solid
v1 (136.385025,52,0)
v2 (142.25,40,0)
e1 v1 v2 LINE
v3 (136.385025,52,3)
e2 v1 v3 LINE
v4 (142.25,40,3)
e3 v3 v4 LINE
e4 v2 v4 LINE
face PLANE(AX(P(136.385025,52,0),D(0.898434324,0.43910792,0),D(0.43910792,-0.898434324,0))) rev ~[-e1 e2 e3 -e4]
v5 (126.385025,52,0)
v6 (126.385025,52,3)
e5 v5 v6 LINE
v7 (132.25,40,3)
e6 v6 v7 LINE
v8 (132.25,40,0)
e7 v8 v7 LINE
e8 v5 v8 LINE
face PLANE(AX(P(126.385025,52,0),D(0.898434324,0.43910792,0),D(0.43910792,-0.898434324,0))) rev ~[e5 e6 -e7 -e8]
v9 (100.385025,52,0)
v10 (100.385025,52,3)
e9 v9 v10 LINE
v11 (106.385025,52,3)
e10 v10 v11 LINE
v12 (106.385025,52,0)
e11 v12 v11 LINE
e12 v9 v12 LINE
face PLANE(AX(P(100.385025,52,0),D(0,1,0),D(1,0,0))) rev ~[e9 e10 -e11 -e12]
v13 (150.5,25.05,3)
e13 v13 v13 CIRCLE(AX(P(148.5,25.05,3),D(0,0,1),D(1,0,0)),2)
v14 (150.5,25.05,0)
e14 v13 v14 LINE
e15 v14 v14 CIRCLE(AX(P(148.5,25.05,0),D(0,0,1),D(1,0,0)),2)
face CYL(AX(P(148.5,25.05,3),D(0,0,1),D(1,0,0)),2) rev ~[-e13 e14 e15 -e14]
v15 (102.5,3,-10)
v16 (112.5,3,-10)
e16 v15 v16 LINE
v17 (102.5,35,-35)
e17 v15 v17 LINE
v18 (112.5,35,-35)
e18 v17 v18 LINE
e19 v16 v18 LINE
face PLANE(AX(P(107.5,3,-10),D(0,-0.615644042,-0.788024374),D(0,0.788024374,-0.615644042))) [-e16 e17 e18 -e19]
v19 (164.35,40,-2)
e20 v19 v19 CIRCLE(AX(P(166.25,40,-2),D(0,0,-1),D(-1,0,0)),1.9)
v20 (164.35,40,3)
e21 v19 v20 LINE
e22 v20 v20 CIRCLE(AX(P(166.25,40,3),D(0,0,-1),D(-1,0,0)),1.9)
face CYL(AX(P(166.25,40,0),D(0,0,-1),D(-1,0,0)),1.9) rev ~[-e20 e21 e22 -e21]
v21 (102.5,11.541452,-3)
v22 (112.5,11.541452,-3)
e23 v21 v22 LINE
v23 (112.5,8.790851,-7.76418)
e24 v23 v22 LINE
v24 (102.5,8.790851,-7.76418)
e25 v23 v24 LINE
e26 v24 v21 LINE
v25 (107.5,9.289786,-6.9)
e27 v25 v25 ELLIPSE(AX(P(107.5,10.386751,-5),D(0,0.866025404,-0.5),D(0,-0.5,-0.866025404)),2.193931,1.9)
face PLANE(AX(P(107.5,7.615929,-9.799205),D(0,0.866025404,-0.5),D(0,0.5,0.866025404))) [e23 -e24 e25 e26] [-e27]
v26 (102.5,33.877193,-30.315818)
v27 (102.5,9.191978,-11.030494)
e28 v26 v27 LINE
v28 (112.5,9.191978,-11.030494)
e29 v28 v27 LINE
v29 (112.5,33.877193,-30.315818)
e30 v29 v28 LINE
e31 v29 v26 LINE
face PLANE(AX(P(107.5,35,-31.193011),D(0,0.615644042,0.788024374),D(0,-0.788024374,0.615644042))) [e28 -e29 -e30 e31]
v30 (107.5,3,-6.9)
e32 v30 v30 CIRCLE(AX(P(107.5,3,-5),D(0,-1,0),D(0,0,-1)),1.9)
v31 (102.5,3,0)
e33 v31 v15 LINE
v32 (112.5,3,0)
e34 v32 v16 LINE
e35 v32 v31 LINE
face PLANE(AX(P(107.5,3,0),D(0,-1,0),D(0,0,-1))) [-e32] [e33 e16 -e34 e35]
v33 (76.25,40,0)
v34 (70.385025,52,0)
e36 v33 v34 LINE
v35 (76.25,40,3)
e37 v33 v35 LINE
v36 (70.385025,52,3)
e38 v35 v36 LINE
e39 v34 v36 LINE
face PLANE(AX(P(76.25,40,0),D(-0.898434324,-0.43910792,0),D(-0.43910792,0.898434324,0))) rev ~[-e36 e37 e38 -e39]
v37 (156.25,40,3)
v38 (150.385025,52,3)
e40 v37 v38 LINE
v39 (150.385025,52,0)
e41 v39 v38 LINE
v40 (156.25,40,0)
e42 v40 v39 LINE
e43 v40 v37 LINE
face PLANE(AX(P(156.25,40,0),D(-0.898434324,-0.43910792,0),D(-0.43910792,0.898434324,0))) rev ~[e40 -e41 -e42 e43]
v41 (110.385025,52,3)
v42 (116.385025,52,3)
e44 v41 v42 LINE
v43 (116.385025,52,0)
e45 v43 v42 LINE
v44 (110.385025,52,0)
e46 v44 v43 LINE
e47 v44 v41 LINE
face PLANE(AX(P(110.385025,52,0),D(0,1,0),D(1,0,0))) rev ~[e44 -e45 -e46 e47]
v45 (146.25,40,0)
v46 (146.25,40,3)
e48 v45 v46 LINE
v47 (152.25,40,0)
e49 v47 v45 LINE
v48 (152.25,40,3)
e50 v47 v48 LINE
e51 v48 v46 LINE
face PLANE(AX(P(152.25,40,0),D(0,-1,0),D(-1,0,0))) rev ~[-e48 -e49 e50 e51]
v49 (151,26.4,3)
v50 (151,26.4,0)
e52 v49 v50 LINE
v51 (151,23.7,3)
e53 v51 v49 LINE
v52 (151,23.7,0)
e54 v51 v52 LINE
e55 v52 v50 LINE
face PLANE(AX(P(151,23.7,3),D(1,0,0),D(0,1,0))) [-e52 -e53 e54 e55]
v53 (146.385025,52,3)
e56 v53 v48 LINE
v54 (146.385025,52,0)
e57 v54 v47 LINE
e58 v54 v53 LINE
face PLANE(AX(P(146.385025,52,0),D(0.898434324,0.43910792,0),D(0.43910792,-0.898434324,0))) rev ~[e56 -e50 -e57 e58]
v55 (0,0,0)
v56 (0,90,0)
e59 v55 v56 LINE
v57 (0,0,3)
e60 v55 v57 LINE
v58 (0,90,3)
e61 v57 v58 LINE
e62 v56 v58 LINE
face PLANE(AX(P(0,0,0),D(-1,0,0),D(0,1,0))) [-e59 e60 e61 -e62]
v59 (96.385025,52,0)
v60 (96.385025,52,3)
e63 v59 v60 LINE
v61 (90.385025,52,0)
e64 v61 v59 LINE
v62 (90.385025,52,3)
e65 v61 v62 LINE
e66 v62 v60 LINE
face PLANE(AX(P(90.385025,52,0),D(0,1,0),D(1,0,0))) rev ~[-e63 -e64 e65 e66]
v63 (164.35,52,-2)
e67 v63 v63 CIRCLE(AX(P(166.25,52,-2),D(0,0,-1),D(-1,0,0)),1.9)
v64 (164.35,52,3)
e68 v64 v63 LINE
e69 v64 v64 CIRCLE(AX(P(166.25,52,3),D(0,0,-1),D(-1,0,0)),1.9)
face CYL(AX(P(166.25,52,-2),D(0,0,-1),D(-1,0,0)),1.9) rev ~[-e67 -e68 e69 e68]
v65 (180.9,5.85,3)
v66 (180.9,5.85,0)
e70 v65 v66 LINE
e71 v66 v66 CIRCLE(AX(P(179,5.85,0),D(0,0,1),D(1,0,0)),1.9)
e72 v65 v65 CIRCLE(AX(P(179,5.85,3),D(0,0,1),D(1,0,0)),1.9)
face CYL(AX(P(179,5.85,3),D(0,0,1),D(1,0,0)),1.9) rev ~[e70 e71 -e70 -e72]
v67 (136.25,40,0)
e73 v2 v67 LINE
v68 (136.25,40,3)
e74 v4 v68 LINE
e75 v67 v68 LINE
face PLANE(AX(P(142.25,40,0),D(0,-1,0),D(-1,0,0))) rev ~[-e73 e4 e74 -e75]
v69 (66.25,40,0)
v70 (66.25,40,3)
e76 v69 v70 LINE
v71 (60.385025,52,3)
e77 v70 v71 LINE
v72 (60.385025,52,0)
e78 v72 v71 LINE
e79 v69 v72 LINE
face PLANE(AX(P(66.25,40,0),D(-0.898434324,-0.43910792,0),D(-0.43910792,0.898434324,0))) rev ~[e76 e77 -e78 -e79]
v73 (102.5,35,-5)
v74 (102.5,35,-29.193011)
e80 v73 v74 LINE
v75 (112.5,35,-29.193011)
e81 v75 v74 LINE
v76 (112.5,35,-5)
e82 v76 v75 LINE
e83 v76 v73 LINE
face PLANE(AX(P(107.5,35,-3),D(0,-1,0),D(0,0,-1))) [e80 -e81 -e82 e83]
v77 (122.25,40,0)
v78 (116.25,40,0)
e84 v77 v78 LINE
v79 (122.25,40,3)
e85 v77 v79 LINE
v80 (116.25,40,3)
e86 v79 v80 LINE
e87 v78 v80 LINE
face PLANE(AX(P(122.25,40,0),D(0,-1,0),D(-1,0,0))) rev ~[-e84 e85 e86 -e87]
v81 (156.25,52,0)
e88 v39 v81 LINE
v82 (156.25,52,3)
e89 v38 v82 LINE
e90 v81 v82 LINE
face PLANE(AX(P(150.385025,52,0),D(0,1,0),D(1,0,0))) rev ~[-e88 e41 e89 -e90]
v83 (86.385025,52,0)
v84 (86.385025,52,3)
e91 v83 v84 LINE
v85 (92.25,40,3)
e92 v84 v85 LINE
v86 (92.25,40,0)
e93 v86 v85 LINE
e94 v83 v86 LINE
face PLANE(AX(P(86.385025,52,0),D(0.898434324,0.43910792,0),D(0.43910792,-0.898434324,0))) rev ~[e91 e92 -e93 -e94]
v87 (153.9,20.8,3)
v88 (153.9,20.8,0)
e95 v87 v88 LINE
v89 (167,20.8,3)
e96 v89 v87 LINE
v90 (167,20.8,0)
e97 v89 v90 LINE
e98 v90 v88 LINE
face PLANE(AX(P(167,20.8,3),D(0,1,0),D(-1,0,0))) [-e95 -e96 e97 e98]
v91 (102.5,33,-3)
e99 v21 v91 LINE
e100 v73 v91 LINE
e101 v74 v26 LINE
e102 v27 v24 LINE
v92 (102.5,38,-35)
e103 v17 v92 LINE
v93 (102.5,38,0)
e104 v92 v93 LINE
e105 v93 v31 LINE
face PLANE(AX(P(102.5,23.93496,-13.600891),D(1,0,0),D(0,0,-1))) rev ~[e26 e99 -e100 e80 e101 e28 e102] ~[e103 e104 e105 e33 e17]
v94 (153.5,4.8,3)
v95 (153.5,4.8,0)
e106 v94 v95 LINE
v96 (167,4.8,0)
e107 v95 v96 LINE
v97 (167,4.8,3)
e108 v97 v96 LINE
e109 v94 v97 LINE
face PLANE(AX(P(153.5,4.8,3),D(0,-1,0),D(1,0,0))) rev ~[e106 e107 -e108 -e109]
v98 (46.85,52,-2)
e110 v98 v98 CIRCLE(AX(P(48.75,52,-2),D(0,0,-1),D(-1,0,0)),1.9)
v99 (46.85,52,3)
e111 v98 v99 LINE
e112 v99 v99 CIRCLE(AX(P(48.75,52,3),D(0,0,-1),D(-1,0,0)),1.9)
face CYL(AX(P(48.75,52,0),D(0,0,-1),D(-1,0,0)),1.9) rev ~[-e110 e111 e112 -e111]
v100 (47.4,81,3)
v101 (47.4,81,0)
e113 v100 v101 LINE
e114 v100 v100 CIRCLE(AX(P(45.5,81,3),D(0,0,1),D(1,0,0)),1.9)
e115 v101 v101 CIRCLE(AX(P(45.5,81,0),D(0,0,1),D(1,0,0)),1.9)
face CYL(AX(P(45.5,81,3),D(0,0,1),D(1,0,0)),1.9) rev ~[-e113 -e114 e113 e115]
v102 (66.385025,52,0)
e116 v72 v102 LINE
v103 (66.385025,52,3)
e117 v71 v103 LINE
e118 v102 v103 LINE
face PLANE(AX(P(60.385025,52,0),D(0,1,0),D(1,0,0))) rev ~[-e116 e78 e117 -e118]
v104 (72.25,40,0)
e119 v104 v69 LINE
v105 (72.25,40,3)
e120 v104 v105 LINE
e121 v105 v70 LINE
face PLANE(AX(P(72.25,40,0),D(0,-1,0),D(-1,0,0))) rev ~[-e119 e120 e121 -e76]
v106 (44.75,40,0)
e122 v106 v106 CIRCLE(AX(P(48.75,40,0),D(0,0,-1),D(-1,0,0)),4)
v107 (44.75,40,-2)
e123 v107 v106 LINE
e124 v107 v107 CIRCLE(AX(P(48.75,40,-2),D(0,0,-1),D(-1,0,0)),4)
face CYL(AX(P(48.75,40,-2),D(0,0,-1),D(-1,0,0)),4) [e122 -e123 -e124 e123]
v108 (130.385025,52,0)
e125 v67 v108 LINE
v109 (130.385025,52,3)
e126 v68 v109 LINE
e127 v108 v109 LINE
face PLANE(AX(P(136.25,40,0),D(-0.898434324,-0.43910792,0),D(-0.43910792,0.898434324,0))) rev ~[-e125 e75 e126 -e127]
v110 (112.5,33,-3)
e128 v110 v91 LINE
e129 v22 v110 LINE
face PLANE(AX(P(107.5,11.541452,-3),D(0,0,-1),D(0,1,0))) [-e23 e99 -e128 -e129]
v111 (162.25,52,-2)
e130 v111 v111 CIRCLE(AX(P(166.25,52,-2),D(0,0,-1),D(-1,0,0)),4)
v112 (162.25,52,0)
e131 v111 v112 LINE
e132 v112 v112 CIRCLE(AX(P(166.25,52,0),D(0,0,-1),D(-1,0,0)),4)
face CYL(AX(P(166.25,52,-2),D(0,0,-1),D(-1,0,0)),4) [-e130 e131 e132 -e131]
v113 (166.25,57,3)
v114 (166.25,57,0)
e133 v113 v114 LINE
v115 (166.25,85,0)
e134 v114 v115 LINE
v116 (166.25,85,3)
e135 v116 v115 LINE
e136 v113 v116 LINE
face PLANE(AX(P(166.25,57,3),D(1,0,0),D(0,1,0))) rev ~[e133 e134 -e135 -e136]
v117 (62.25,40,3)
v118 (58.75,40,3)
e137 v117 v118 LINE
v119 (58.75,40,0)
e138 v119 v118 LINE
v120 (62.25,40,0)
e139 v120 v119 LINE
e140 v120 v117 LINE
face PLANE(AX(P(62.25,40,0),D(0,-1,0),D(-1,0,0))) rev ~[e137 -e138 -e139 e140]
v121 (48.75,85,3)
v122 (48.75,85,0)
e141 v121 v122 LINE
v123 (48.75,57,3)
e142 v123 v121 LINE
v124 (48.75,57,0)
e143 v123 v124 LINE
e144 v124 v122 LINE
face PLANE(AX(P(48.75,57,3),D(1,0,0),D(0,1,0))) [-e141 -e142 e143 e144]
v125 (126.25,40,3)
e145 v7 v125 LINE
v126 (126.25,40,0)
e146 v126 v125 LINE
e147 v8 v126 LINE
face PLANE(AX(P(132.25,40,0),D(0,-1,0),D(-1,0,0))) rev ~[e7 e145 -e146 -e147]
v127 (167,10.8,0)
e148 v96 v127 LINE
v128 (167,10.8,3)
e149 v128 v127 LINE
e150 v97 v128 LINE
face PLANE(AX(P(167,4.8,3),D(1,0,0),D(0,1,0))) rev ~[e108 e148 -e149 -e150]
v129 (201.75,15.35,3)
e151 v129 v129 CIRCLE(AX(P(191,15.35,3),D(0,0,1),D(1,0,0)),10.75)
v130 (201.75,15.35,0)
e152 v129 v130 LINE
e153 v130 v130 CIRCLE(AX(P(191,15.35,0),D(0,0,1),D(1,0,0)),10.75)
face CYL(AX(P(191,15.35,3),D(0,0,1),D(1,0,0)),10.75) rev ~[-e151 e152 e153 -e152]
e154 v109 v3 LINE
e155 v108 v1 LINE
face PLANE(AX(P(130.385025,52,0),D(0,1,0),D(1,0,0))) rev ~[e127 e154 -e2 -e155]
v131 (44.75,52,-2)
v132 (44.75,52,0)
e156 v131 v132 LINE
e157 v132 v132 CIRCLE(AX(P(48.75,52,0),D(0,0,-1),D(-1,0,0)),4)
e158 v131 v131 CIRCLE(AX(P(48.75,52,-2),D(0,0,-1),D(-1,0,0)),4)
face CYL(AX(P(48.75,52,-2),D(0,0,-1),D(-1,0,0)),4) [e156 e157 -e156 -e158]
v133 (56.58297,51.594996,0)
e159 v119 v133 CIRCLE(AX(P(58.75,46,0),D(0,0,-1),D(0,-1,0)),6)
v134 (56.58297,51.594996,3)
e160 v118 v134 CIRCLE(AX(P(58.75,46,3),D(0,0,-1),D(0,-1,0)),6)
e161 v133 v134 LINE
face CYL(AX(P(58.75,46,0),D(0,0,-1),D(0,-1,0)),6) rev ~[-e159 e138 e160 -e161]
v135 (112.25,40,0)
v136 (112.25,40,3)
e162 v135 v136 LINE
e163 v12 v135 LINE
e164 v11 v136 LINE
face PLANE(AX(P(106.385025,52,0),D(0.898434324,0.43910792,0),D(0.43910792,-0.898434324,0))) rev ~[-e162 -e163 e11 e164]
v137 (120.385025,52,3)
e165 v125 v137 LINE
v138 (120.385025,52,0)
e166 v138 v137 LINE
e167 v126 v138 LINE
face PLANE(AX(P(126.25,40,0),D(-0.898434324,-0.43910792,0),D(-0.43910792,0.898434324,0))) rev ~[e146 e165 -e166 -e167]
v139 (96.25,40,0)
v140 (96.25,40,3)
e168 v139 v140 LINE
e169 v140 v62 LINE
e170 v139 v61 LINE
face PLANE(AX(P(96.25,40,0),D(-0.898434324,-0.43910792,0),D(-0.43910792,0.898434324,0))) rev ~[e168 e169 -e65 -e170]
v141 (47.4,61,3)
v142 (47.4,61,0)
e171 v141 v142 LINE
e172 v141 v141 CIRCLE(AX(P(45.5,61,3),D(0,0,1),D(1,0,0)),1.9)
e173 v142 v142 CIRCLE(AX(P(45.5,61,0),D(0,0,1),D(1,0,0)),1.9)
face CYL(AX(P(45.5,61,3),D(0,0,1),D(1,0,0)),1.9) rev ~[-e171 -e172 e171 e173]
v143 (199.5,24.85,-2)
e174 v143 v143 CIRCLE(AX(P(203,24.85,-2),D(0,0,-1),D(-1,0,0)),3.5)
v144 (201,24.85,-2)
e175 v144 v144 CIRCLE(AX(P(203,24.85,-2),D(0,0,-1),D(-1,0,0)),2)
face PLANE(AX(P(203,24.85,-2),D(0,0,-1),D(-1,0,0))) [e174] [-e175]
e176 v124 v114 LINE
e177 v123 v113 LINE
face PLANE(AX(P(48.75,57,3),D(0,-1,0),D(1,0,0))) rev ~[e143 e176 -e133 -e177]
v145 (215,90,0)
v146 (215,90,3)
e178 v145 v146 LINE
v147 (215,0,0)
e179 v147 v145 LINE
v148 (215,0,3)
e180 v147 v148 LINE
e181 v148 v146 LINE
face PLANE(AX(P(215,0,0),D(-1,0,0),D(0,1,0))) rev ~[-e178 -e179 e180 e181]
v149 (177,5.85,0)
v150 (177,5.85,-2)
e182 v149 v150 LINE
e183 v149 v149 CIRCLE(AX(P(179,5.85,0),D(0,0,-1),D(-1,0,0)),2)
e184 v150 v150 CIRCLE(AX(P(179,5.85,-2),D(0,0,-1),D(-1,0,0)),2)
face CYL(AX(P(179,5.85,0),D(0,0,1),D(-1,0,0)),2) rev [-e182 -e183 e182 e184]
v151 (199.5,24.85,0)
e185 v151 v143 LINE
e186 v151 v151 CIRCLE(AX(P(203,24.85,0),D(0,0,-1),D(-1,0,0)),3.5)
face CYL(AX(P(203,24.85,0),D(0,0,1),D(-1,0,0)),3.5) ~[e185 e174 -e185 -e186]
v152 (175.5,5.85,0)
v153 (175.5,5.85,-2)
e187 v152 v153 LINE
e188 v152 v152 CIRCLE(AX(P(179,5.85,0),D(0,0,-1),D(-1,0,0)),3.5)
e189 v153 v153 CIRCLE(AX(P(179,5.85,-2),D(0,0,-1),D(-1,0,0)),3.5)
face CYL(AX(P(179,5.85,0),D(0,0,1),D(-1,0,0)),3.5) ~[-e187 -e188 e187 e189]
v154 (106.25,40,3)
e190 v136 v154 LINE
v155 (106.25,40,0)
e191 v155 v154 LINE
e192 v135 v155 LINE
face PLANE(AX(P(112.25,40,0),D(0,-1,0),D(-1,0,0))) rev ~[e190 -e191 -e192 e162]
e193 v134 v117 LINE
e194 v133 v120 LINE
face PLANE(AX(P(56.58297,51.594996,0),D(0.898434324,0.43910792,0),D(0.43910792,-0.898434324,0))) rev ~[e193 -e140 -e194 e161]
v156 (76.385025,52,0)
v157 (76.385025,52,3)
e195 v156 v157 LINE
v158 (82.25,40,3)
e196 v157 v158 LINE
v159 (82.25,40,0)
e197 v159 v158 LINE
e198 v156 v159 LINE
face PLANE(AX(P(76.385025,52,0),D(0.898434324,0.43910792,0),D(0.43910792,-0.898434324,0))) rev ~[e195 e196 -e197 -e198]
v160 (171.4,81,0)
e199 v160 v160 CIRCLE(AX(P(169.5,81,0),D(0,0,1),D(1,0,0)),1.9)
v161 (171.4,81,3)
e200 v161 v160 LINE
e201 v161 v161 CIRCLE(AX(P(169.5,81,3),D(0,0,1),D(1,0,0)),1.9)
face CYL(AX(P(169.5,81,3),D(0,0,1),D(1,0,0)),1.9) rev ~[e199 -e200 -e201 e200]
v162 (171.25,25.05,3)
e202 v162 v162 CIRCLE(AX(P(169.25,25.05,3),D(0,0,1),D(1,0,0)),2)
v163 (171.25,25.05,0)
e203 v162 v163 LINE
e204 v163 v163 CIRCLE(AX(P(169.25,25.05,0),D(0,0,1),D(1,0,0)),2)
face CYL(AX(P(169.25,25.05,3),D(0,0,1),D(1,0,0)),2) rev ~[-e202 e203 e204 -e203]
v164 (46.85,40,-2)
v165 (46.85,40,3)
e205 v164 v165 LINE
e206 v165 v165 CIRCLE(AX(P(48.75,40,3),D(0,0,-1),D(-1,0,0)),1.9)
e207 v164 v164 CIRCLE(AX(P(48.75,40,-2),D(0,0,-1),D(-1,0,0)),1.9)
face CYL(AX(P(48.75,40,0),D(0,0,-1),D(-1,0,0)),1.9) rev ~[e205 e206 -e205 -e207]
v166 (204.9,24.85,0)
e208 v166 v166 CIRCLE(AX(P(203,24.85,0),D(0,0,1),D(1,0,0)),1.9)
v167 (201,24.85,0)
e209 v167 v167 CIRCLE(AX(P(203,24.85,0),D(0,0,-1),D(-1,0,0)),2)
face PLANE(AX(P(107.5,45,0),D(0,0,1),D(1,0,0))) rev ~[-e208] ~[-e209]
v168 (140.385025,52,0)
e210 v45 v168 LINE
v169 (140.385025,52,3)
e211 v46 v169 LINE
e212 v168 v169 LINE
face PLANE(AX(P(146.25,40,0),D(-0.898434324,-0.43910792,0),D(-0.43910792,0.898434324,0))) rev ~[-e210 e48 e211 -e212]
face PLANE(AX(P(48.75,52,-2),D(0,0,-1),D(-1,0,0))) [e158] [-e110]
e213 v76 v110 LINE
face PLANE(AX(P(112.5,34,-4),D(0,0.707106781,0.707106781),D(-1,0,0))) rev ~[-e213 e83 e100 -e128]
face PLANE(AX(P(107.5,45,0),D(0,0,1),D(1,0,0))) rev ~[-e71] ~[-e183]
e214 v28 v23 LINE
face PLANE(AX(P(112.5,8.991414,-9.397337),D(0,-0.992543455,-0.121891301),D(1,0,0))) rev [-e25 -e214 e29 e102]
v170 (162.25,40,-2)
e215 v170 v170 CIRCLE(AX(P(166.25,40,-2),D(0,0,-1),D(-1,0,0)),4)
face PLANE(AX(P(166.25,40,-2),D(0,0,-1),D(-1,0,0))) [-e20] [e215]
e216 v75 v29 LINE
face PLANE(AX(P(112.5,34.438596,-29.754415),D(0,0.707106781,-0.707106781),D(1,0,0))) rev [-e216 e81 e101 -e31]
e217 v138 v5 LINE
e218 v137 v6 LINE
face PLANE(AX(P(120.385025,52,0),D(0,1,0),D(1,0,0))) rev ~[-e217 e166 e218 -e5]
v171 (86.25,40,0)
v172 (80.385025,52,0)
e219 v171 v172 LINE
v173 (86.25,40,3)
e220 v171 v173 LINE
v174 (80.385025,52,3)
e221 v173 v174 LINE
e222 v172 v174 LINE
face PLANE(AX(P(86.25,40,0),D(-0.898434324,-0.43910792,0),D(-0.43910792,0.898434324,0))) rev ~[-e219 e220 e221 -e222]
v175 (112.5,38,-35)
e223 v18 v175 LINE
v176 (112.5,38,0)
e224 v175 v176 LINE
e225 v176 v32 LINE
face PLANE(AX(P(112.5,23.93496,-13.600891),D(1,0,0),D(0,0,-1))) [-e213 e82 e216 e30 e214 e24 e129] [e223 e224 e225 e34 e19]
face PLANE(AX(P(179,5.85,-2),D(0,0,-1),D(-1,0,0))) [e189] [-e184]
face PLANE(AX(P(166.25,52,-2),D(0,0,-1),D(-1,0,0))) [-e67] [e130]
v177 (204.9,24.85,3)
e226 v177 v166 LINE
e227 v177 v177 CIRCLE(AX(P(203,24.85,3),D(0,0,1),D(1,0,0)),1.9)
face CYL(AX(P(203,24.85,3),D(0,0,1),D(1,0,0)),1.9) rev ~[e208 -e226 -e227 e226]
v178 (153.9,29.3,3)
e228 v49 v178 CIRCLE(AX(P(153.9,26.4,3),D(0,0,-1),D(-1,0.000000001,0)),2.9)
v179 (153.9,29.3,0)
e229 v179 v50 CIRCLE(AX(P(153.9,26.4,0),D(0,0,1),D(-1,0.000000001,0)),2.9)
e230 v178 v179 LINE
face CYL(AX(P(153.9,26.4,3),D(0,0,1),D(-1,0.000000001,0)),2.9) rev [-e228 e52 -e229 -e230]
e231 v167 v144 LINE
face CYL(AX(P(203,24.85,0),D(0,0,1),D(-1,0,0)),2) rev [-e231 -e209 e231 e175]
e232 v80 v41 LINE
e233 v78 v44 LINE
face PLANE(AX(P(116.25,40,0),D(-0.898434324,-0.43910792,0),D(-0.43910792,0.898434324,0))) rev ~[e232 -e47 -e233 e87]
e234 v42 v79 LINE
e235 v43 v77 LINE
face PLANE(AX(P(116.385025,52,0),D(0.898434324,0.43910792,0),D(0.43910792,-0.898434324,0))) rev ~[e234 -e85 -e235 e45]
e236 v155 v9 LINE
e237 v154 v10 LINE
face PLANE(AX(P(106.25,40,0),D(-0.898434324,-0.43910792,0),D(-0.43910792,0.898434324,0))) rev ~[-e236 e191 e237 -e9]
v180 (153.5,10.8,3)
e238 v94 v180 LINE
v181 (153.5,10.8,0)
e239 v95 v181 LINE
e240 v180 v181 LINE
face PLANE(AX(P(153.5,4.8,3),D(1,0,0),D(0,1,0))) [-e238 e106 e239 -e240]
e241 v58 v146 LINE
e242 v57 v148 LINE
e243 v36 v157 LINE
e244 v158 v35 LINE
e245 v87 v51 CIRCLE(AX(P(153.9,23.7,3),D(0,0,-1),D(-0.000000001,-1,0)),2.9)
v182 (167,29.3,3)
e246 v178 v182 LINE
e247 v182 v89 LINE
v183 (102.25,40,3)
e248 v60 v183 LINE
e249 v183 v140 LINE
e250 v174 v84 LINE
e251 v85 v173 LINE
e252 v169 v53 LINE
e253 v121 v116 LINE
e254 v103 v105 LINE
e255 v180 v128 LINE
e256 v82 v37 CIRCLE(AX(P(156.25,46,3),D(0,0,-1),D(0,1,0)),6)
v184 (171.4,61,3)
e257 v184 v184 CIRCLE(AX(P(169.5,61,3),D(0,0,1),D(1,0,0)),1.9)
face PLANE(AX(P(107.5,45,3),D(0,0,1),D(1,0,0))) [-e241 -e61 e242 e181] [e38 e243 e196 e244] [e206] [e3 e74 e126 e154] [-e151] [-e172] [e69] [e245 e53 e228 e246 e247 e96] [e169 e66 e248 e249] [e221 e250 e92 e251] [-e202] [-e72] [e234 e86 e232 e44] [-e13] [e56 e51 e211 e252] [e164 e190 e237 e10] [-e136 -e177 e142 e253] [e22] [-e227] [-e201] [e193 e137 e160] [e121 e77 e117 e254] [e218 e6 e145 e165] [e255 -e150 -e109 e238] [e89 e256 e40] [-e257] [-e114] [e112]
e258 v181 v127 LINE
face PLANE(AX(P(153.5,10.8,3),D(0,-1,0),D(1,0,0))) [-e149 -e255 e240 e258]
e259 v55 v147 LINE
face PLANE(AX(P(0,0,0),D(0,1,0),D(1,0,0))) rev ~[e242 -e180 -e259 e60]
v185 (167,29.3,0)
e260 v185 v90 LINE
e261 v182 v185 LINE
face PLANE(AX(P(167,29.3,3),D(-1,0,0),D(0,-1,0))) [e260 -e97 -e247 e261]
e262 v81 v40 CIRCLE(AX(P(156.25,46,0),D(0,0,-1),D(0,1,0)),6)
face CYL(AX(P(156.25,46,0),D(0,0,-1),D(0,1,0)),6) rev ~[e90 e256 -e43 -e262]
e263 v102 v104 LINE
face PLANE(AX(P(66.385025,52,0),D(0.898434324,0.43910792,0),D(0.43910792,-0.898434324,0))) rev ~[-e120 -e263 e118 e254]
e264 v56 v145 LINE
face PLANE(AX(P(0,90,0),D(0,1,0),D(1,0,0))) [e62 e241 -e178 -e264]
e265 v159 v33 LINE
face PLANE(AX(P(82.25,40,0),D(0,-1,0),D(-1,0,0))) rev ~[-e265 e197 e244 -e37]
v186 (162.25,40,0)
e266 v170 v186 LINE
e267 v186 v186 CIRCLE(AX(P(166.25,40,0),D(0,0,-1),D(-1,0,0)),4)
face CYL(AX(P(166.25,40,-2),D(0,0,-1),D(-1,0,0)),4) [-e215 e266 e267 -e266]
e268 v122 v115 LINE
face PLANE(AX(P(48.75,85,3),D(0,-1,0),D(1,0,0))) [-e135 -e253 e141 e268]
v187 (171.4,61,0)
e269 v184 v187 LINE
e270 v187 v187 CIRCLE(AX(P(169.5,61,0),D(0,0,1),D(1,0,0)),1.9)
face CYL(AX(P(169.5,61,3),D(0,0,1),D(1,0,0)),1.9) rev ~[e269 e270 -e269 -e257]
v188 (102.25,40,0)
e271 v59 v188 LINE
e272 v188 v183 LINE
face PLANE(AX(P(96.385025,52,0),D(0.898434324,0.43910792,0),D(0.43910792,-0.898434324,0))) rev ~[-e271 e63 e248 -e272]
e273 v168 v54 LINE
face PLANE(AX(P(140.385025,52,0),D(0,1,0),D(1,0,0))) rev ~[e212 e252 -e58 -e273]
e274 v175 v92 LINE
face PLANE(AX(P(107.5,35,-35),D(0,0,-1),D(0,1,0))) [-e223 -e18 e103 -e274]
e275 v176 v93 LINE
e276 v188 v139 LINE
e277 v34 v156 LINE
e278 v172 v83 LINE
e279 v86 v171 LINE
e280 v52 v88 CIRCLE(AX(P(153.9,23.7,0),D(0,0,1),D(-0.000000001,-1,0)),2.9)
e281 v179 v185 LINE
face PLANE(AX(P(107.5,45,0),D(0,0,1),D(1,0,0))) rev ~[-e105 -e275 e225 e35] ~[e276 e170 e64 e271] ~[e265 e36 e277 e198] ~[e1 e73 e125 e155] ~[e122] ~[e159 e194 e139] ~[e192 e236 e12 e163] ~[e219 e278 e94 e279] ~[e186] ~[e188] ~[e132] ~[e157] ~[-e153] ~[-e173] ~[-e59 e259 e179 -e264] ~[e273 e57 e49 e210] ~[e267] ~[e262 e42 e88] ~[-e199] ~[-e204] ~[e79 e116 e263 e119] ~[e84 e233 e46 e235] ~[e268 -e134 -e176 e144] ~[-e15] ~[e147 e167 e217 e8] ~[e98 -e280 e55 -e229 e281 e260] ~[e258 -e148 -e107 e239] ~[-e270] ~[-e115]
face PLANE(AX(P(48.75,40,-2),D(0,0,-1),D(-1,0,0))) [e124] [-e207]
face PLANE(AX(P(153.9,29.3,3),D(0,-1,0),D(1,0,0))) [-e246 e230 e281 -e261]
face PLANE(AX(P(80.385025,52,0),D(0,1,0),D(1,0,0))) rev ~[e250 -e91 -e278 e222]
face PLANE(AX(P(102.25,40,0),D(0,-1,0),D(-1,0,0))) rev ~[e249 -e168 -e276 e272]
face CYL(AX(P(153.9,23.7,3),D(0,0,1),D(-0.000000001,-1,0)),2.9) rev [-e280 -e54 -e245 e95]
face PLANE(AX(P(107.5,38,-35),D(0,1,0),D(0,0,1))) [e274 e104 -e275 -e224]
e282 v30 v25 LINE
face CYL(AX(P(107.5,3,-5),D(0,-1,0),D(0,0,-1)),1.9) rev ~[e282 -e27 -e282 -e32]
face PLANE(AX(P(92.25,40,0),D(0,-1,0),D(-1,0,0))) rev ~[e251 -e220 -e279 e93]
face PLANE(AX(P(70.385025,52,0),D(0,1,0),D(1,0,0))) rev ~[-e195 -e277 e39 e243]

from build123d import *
from OCP.BRepFilletAPI import BRepFilletAPI_MakeChamfer

# Parameters (mm, degrees)
SZKIC1_W                    = 215
SZKIC1_H                    = 90
DODANIE_WYCI_GNI_CIE1_DEPTH = 3
DODANIE_WYCI_GNI_CIE3_DEPTH = 5
SZKIC4_R                    = 1.9
WYTNIJ_WYCI_GNI_CIE1_DEPTH  = 10
SZKIC5_R                    = 1.9
SZKIC5_W                    = 117.5
SZKIC5_H                    = 28
WYTNIJ_WYCI_GNI_CIE2_DEPTH  = 35
SFAZOWANIE1_SIZE            = 2
SFAZOWANIE1_SIZE2           = 1.42483793
SFAZOWANIE1_SIZE2_2         = 2.349845037
SZKIC6_R                    = 10.75
SZKIC6_R_2                  = 1.9
SZKIC6_R_3                  = 2
SZKIC6_W                    = 13.5
SZKIC6_H                    = 6
WYTNIJ_WYCI_GNI_CIE3_DEPTH  = 237.154610372
SZKIC8_R                    = 3.5
SZKIC8_R_2                  = 2
DODANIE_WYCI_GNI_CIE4_DEPTH = 2
SZKIC9_R                    = 1.9
WYTNIJ_WYCI_GNI_CIE4_DEPTH  = 3
DODANIE_WYCI_GNI_CIE5_START = 2
SZKIC10_R                   = 4
SZKIC10_R_2                 = 1.9
DODANIE_WYCI_GNI_CIE5_DEPTH = 2


with BuildPart() as part:
    # Szkic1 → Dodanie-wyciągnięcie1 (new body)
    with BuildSketch(Plane.XY):
        with Locations((107.5, 45)):
            Rectangle(SZKIC1_W, SZKIC1_H)
    extrude(amount=DODANIE_WYCI_GNI_CIE1_DEPTH)

    # Szkic3 → Dodanie-wyciągnięcie3 (add, symmetric)
    with BuildSketch(Plane(origin=(107.5, 0, 0), x_dir=(0, 0, -1), z_dir=(1, 0, 0))):
        Polygon((0, 3), (10, 3), (35, 35), (35, 38), (0, 38), align=None)
        Polygon((3, 11.541451884), (3, 35), (31.193011155, 35), (9.799205499, 7.615928759), align=None, mode=Mode.SUBTRACT)
    extrude(amount=DODANIE_WYCI_GNI_CIE3_DEPTH, both=True)

    # Szkic4 → Wytnij-wyciągnięcie1 (cut)
    with BuildSketch(Plane.XZ.offset(-3)):
        with Locations(Location((107.5, -5, 0), (0, 0, 270))):
            Circle(SZKIC4_R)
    extrude(amount=-WYTNIJ_WYCI_GNI_CIE1_DEPTH, mode=Mode.SUBTRACT)

    # Szkic5 → Wytnij-wyciągnięcie2 (cut)
    with BuildSketch(Plane.XY.offset(3)):
        with Locations((45.5, 81)):
            Circle(SZKIC5_R)
        with Locations((45.5, 61)):
            Circle(SZKIC5_R)
        with Locations((169.5, 61)):
            Circle(SZKIC5_R)
        with Locations((169.5, 81)):
            Circle(SZKIC5_R)
        with Locations((107.5, 71)):
            Rectangle(SZKIC5_W, SZKIC5_H)
    extrude(amount=-WYTNIJ_WYCI_GNI_CIE2_DEPTH, mode=Mode.SUBTRACT)

    # Sfazowanie1: one chamfer whose edges measure the first distance from different faces: ONE call of the kernel's chamfer builder (chamfer() names one face for all edges)
    sfazowanie1_edges_1 = [part.edges().sort_by_distance(p)[0] for p in [
        (107.5, 35, -31.193011155),
    ]]
    sfazowanie1_side_1 = [part.faces().sort_by_distance(p)[0] for p in [
        (107.5, 35, -17.096505578),
    ]]
    sfazowanie1_edges_2 = [part.edges().sort_by_distance(p)[0] for p in [
        (107.5, 35, -3),
    ]]
    sfazowanie1_edges_3 = [part.edges().sort_by_distance(p)[0] for p in [
        (107.5, 7.615928759, -9.799205499),
    ]]
    sfazowanie1_side_3 = [part.faces().sort_by_distance(p)[0] for p in [
        (107.5, 21.30796438, -20.496108327),
    ]]
    sfazowanie1 = BRepFilletAPI_MakeChamfer(part.part.solid().wrapped)
    for e in sfazowanie1_edges_1:
        sfazowanie1.Add(SFAZOWANIE1_SIZE, SFAZOWANIE1_SIZE2, e.wrapped, sfazowanie1_side_1[0].wrapped)  # the first distance lies on this face
    for e in sfazowanie1_edges_2:
        sfazowanie1.Add(SFAZOWANIE1_SIZE, e.wrapped)
    for e in sfazowanie1_edges_3:
        sfazowanie1.Add(SFAZOWANIE1_SIZE, SFAZOWANIE1_SIZE2_2, e.wrapped, sfazowanie1_side_3[0].wrapped)  # the first distance lies on this face
    add(Compound.cast(sfazowanie1.Shape()), mode=Mode.REPLACE)

    # Szkic6 → Wytnij-wyciągnięcie3 (cut, through all)
    with BuildSketch(Plane.XY.offset(3)):
        with Locations((191, 15.35)):
            Circle(SZKIC6_R)
        with Locations((203, 24.85)):
            Circle(SZKIC6_R_2)
        with Locations((179, 5.85)):
            Circle(SZKIC6_R_2)
        with Locations((148.5, 25.05)):
            Circle(SZKIC6_R_3)
        with Locations((169.25, 25.05)):
            Circle(SZKIC6_R_3)
        with Locations((160.25, 7.8)):
            Rectangle(SZKIC6_W, SZKIC6_H)
        with BuildLine():
            Line((167, 20.8), (153.9, 20.8))
            ThreePointArc((153.9, 20.8), (151.849390335, 21.649390335), (151, 23.7))
            Line((151, 23.7), (151, 26.4))
            ThreePointArc((151, 26.4), (151.849390335, 28.450609665), (153.9, 29.3))
            Line((153.9, 29.3), (167, 29.3))
            Line((167, 29.3), (167, 20.8))
        make_face()
    extrude(amount=-WYTNIJ_WYCI_GNI_CIE3_DEPTH, mode=Mode.SUBTRACT)

    # Szkic8 → Dodanie-wyciągnięcie4 (add)
    # profile 1 of 2: a face of its own
    with BuildSketch(Plane(origin=(0, 0, 0), x_dir=(-1, 0, 0), z_dir=(0, 0, -1))):
        with Locations((-179, 5.85)):
            Circle(SZKIC8_R)
        with Locations((-179, 5.85)):
            Circle(SZKIC8_R_2, mode=Mode.SUBTRACT)
    # profile 2 of 2: a face of its own
    with BuildSketch(Plane(origin=(0, 0, 0), x_dir=(-1, 0, 0), z_dir=(0, 0, -1))):
        with Locations((-203, 24.85)):
            Circle(SZKIC8_R)
        with Locations((-203, 24.85)):
            Circle(SZKIC8_R_2, mode=Mode.SUBTRACT)
    extrude(amount=DODANIE_WYCI_GNI_CIE4_DEPTH)

    # Szkic9 → Wytnij-wyciągnięcie4 (cut)
    with BuildSketch(Plane(origin=(0, 0, 0), x_dir=(-1, 0, 0), z_dir=(0, 0, -1))):
        with Locations((-166.25, 52)):
            Circle(SZKIC9_R)
        with Locations((-166.25, 40)):
            Circle(SZKIC9_R)
        with BuildLine():
            Line((-150.385024789, 52), (-156.25, 52))
            ThreePointArc((-156.25, 52), (-162.25, 46), (-156.25, 40))
            Line((-156.25, 40), (-150.385024789, 52))
        make_face()
        Polygon((-140.385024789, 52), (-146.385024789, 52), (-152.25, 40), (-146.25, 40), align=None)
        Polygon((-130.385024789, 52), (-136.385024789, 52), (-142.25, 40), (-136.25, 40), align=None)
        Polygon((-120.385024789, 52), (-126.385024789, 52), (-132.25, 40), (-126.25, 40), align=None)
        Polygon((-110.385024789, 52), (-116.385024789, 52), (-122.25, 40), (-116.25, 40), align=None)
        Polygon((-100.385024789, 52), (-106.385024789, 52), (-112.25, 40), (-106.25, 40), align=None)
        Polygon((-90.385024789, 52), (-96.385024789, 52), (-102.25, 40), (-96.25, 40), align=None)
        Polygon((-80.385024789, 52), (-86.385024789, 52), (-92.25, 40), (-86.25, 40), align=None)
        Polygon((-70.385024789, 52), (-76.385024789, 52), (-82.25, 40), (-76.25, 40), align=None)
        Polygon((-60.385024789, 52), (-66.385024789, 52), (-72.25, 40), (-66.25, 40), align=None)
        with BuildLine():
            Line((-56.582969685, 51.594995944), (-62.25, 40))
            Line((-62.25, 40), (-58.75, 40))
            ThreePointArc((-58.75, 40), (-52.852120056, 44.897724096), (-56.582969685, 51.594995944))
        make_face()
        with Locations((-48.75, 40)):
            Circle(SZKIC9_R)
        with Locations((-48.75, 52)):
            Circle(SZKIC9_R)
    extrude(amount=-WYTNIJ_WYCI_GNI_CIE4_DEPTH, mode=Mode.SUBTRACT)

    # Szkic10 → Dodanie-wyciągnięcie5 (add)
    # profile 1 of 4: a face of its own
    with BuildSketch(Plane(origin=(0, 0, 0), x_dir=(-1, 0, 0), z_dir=(0, 0, -1)).offset(DODANIE_WYCI_GNI_CIE5_START)):
        with Locations((-166.25, 52)):
            Circle(SZKIC10_R)
        with Locations((-166.25, 52)):
            Circle(SZKIC10_R_2, mode=Mode.SUBTRACT)
    # profile 2 of 4: a face of its own
    with BuildSketch(Plane(origin=(0, 0, 0), x_dir=(-1, 0, 0), z_dir=(0, 0, -1)).offset(DODANIE_WYCI_GNI_CIE5_START)):
        with Locations((-166.25, 40)):
            Circle(SZKIC10_R)
        with Locations((-166.25, 40)):
            Circle(SZKIC10_R_2, mode=Mode.SUBTRACT)
    # profile 3 of 4: a face of its own
    with BuildSketch(Plane(origin=(0, 0, 0), x_dir=(-1, 0, 0), z_dir=(0, 0, -1)).offset(DODANIE_WYCI_GNI_CIE5_START)):
        with Locations((-48.75, 40)):
            Circle(SZKIC10_R)
        with Locations((-48.75, 40)):
            Circle(SZKIC10_R_2, mode=Mode.SUBTRACT)
    # profile 4 of 4: a face of its own
    with BuildSketch(Plane(origin=(0, 0, 0), x_dir=(-1, 0, 0), z_dir=(0, 0, -1)).offset(DODANIE_WYCI_GNI_CIE5_START)):
        with Locations((-48.75, 52)):
            Circle(SZKIC10_R)
        with Locations((-48.75, 52)):
            Circle(SZKIC10_R_2, mode=Mode.SUBTRACT)
    extrude(amount=-DODANIE_WYCI_GNI_CIE5_DEPTH)


solid = part.part
